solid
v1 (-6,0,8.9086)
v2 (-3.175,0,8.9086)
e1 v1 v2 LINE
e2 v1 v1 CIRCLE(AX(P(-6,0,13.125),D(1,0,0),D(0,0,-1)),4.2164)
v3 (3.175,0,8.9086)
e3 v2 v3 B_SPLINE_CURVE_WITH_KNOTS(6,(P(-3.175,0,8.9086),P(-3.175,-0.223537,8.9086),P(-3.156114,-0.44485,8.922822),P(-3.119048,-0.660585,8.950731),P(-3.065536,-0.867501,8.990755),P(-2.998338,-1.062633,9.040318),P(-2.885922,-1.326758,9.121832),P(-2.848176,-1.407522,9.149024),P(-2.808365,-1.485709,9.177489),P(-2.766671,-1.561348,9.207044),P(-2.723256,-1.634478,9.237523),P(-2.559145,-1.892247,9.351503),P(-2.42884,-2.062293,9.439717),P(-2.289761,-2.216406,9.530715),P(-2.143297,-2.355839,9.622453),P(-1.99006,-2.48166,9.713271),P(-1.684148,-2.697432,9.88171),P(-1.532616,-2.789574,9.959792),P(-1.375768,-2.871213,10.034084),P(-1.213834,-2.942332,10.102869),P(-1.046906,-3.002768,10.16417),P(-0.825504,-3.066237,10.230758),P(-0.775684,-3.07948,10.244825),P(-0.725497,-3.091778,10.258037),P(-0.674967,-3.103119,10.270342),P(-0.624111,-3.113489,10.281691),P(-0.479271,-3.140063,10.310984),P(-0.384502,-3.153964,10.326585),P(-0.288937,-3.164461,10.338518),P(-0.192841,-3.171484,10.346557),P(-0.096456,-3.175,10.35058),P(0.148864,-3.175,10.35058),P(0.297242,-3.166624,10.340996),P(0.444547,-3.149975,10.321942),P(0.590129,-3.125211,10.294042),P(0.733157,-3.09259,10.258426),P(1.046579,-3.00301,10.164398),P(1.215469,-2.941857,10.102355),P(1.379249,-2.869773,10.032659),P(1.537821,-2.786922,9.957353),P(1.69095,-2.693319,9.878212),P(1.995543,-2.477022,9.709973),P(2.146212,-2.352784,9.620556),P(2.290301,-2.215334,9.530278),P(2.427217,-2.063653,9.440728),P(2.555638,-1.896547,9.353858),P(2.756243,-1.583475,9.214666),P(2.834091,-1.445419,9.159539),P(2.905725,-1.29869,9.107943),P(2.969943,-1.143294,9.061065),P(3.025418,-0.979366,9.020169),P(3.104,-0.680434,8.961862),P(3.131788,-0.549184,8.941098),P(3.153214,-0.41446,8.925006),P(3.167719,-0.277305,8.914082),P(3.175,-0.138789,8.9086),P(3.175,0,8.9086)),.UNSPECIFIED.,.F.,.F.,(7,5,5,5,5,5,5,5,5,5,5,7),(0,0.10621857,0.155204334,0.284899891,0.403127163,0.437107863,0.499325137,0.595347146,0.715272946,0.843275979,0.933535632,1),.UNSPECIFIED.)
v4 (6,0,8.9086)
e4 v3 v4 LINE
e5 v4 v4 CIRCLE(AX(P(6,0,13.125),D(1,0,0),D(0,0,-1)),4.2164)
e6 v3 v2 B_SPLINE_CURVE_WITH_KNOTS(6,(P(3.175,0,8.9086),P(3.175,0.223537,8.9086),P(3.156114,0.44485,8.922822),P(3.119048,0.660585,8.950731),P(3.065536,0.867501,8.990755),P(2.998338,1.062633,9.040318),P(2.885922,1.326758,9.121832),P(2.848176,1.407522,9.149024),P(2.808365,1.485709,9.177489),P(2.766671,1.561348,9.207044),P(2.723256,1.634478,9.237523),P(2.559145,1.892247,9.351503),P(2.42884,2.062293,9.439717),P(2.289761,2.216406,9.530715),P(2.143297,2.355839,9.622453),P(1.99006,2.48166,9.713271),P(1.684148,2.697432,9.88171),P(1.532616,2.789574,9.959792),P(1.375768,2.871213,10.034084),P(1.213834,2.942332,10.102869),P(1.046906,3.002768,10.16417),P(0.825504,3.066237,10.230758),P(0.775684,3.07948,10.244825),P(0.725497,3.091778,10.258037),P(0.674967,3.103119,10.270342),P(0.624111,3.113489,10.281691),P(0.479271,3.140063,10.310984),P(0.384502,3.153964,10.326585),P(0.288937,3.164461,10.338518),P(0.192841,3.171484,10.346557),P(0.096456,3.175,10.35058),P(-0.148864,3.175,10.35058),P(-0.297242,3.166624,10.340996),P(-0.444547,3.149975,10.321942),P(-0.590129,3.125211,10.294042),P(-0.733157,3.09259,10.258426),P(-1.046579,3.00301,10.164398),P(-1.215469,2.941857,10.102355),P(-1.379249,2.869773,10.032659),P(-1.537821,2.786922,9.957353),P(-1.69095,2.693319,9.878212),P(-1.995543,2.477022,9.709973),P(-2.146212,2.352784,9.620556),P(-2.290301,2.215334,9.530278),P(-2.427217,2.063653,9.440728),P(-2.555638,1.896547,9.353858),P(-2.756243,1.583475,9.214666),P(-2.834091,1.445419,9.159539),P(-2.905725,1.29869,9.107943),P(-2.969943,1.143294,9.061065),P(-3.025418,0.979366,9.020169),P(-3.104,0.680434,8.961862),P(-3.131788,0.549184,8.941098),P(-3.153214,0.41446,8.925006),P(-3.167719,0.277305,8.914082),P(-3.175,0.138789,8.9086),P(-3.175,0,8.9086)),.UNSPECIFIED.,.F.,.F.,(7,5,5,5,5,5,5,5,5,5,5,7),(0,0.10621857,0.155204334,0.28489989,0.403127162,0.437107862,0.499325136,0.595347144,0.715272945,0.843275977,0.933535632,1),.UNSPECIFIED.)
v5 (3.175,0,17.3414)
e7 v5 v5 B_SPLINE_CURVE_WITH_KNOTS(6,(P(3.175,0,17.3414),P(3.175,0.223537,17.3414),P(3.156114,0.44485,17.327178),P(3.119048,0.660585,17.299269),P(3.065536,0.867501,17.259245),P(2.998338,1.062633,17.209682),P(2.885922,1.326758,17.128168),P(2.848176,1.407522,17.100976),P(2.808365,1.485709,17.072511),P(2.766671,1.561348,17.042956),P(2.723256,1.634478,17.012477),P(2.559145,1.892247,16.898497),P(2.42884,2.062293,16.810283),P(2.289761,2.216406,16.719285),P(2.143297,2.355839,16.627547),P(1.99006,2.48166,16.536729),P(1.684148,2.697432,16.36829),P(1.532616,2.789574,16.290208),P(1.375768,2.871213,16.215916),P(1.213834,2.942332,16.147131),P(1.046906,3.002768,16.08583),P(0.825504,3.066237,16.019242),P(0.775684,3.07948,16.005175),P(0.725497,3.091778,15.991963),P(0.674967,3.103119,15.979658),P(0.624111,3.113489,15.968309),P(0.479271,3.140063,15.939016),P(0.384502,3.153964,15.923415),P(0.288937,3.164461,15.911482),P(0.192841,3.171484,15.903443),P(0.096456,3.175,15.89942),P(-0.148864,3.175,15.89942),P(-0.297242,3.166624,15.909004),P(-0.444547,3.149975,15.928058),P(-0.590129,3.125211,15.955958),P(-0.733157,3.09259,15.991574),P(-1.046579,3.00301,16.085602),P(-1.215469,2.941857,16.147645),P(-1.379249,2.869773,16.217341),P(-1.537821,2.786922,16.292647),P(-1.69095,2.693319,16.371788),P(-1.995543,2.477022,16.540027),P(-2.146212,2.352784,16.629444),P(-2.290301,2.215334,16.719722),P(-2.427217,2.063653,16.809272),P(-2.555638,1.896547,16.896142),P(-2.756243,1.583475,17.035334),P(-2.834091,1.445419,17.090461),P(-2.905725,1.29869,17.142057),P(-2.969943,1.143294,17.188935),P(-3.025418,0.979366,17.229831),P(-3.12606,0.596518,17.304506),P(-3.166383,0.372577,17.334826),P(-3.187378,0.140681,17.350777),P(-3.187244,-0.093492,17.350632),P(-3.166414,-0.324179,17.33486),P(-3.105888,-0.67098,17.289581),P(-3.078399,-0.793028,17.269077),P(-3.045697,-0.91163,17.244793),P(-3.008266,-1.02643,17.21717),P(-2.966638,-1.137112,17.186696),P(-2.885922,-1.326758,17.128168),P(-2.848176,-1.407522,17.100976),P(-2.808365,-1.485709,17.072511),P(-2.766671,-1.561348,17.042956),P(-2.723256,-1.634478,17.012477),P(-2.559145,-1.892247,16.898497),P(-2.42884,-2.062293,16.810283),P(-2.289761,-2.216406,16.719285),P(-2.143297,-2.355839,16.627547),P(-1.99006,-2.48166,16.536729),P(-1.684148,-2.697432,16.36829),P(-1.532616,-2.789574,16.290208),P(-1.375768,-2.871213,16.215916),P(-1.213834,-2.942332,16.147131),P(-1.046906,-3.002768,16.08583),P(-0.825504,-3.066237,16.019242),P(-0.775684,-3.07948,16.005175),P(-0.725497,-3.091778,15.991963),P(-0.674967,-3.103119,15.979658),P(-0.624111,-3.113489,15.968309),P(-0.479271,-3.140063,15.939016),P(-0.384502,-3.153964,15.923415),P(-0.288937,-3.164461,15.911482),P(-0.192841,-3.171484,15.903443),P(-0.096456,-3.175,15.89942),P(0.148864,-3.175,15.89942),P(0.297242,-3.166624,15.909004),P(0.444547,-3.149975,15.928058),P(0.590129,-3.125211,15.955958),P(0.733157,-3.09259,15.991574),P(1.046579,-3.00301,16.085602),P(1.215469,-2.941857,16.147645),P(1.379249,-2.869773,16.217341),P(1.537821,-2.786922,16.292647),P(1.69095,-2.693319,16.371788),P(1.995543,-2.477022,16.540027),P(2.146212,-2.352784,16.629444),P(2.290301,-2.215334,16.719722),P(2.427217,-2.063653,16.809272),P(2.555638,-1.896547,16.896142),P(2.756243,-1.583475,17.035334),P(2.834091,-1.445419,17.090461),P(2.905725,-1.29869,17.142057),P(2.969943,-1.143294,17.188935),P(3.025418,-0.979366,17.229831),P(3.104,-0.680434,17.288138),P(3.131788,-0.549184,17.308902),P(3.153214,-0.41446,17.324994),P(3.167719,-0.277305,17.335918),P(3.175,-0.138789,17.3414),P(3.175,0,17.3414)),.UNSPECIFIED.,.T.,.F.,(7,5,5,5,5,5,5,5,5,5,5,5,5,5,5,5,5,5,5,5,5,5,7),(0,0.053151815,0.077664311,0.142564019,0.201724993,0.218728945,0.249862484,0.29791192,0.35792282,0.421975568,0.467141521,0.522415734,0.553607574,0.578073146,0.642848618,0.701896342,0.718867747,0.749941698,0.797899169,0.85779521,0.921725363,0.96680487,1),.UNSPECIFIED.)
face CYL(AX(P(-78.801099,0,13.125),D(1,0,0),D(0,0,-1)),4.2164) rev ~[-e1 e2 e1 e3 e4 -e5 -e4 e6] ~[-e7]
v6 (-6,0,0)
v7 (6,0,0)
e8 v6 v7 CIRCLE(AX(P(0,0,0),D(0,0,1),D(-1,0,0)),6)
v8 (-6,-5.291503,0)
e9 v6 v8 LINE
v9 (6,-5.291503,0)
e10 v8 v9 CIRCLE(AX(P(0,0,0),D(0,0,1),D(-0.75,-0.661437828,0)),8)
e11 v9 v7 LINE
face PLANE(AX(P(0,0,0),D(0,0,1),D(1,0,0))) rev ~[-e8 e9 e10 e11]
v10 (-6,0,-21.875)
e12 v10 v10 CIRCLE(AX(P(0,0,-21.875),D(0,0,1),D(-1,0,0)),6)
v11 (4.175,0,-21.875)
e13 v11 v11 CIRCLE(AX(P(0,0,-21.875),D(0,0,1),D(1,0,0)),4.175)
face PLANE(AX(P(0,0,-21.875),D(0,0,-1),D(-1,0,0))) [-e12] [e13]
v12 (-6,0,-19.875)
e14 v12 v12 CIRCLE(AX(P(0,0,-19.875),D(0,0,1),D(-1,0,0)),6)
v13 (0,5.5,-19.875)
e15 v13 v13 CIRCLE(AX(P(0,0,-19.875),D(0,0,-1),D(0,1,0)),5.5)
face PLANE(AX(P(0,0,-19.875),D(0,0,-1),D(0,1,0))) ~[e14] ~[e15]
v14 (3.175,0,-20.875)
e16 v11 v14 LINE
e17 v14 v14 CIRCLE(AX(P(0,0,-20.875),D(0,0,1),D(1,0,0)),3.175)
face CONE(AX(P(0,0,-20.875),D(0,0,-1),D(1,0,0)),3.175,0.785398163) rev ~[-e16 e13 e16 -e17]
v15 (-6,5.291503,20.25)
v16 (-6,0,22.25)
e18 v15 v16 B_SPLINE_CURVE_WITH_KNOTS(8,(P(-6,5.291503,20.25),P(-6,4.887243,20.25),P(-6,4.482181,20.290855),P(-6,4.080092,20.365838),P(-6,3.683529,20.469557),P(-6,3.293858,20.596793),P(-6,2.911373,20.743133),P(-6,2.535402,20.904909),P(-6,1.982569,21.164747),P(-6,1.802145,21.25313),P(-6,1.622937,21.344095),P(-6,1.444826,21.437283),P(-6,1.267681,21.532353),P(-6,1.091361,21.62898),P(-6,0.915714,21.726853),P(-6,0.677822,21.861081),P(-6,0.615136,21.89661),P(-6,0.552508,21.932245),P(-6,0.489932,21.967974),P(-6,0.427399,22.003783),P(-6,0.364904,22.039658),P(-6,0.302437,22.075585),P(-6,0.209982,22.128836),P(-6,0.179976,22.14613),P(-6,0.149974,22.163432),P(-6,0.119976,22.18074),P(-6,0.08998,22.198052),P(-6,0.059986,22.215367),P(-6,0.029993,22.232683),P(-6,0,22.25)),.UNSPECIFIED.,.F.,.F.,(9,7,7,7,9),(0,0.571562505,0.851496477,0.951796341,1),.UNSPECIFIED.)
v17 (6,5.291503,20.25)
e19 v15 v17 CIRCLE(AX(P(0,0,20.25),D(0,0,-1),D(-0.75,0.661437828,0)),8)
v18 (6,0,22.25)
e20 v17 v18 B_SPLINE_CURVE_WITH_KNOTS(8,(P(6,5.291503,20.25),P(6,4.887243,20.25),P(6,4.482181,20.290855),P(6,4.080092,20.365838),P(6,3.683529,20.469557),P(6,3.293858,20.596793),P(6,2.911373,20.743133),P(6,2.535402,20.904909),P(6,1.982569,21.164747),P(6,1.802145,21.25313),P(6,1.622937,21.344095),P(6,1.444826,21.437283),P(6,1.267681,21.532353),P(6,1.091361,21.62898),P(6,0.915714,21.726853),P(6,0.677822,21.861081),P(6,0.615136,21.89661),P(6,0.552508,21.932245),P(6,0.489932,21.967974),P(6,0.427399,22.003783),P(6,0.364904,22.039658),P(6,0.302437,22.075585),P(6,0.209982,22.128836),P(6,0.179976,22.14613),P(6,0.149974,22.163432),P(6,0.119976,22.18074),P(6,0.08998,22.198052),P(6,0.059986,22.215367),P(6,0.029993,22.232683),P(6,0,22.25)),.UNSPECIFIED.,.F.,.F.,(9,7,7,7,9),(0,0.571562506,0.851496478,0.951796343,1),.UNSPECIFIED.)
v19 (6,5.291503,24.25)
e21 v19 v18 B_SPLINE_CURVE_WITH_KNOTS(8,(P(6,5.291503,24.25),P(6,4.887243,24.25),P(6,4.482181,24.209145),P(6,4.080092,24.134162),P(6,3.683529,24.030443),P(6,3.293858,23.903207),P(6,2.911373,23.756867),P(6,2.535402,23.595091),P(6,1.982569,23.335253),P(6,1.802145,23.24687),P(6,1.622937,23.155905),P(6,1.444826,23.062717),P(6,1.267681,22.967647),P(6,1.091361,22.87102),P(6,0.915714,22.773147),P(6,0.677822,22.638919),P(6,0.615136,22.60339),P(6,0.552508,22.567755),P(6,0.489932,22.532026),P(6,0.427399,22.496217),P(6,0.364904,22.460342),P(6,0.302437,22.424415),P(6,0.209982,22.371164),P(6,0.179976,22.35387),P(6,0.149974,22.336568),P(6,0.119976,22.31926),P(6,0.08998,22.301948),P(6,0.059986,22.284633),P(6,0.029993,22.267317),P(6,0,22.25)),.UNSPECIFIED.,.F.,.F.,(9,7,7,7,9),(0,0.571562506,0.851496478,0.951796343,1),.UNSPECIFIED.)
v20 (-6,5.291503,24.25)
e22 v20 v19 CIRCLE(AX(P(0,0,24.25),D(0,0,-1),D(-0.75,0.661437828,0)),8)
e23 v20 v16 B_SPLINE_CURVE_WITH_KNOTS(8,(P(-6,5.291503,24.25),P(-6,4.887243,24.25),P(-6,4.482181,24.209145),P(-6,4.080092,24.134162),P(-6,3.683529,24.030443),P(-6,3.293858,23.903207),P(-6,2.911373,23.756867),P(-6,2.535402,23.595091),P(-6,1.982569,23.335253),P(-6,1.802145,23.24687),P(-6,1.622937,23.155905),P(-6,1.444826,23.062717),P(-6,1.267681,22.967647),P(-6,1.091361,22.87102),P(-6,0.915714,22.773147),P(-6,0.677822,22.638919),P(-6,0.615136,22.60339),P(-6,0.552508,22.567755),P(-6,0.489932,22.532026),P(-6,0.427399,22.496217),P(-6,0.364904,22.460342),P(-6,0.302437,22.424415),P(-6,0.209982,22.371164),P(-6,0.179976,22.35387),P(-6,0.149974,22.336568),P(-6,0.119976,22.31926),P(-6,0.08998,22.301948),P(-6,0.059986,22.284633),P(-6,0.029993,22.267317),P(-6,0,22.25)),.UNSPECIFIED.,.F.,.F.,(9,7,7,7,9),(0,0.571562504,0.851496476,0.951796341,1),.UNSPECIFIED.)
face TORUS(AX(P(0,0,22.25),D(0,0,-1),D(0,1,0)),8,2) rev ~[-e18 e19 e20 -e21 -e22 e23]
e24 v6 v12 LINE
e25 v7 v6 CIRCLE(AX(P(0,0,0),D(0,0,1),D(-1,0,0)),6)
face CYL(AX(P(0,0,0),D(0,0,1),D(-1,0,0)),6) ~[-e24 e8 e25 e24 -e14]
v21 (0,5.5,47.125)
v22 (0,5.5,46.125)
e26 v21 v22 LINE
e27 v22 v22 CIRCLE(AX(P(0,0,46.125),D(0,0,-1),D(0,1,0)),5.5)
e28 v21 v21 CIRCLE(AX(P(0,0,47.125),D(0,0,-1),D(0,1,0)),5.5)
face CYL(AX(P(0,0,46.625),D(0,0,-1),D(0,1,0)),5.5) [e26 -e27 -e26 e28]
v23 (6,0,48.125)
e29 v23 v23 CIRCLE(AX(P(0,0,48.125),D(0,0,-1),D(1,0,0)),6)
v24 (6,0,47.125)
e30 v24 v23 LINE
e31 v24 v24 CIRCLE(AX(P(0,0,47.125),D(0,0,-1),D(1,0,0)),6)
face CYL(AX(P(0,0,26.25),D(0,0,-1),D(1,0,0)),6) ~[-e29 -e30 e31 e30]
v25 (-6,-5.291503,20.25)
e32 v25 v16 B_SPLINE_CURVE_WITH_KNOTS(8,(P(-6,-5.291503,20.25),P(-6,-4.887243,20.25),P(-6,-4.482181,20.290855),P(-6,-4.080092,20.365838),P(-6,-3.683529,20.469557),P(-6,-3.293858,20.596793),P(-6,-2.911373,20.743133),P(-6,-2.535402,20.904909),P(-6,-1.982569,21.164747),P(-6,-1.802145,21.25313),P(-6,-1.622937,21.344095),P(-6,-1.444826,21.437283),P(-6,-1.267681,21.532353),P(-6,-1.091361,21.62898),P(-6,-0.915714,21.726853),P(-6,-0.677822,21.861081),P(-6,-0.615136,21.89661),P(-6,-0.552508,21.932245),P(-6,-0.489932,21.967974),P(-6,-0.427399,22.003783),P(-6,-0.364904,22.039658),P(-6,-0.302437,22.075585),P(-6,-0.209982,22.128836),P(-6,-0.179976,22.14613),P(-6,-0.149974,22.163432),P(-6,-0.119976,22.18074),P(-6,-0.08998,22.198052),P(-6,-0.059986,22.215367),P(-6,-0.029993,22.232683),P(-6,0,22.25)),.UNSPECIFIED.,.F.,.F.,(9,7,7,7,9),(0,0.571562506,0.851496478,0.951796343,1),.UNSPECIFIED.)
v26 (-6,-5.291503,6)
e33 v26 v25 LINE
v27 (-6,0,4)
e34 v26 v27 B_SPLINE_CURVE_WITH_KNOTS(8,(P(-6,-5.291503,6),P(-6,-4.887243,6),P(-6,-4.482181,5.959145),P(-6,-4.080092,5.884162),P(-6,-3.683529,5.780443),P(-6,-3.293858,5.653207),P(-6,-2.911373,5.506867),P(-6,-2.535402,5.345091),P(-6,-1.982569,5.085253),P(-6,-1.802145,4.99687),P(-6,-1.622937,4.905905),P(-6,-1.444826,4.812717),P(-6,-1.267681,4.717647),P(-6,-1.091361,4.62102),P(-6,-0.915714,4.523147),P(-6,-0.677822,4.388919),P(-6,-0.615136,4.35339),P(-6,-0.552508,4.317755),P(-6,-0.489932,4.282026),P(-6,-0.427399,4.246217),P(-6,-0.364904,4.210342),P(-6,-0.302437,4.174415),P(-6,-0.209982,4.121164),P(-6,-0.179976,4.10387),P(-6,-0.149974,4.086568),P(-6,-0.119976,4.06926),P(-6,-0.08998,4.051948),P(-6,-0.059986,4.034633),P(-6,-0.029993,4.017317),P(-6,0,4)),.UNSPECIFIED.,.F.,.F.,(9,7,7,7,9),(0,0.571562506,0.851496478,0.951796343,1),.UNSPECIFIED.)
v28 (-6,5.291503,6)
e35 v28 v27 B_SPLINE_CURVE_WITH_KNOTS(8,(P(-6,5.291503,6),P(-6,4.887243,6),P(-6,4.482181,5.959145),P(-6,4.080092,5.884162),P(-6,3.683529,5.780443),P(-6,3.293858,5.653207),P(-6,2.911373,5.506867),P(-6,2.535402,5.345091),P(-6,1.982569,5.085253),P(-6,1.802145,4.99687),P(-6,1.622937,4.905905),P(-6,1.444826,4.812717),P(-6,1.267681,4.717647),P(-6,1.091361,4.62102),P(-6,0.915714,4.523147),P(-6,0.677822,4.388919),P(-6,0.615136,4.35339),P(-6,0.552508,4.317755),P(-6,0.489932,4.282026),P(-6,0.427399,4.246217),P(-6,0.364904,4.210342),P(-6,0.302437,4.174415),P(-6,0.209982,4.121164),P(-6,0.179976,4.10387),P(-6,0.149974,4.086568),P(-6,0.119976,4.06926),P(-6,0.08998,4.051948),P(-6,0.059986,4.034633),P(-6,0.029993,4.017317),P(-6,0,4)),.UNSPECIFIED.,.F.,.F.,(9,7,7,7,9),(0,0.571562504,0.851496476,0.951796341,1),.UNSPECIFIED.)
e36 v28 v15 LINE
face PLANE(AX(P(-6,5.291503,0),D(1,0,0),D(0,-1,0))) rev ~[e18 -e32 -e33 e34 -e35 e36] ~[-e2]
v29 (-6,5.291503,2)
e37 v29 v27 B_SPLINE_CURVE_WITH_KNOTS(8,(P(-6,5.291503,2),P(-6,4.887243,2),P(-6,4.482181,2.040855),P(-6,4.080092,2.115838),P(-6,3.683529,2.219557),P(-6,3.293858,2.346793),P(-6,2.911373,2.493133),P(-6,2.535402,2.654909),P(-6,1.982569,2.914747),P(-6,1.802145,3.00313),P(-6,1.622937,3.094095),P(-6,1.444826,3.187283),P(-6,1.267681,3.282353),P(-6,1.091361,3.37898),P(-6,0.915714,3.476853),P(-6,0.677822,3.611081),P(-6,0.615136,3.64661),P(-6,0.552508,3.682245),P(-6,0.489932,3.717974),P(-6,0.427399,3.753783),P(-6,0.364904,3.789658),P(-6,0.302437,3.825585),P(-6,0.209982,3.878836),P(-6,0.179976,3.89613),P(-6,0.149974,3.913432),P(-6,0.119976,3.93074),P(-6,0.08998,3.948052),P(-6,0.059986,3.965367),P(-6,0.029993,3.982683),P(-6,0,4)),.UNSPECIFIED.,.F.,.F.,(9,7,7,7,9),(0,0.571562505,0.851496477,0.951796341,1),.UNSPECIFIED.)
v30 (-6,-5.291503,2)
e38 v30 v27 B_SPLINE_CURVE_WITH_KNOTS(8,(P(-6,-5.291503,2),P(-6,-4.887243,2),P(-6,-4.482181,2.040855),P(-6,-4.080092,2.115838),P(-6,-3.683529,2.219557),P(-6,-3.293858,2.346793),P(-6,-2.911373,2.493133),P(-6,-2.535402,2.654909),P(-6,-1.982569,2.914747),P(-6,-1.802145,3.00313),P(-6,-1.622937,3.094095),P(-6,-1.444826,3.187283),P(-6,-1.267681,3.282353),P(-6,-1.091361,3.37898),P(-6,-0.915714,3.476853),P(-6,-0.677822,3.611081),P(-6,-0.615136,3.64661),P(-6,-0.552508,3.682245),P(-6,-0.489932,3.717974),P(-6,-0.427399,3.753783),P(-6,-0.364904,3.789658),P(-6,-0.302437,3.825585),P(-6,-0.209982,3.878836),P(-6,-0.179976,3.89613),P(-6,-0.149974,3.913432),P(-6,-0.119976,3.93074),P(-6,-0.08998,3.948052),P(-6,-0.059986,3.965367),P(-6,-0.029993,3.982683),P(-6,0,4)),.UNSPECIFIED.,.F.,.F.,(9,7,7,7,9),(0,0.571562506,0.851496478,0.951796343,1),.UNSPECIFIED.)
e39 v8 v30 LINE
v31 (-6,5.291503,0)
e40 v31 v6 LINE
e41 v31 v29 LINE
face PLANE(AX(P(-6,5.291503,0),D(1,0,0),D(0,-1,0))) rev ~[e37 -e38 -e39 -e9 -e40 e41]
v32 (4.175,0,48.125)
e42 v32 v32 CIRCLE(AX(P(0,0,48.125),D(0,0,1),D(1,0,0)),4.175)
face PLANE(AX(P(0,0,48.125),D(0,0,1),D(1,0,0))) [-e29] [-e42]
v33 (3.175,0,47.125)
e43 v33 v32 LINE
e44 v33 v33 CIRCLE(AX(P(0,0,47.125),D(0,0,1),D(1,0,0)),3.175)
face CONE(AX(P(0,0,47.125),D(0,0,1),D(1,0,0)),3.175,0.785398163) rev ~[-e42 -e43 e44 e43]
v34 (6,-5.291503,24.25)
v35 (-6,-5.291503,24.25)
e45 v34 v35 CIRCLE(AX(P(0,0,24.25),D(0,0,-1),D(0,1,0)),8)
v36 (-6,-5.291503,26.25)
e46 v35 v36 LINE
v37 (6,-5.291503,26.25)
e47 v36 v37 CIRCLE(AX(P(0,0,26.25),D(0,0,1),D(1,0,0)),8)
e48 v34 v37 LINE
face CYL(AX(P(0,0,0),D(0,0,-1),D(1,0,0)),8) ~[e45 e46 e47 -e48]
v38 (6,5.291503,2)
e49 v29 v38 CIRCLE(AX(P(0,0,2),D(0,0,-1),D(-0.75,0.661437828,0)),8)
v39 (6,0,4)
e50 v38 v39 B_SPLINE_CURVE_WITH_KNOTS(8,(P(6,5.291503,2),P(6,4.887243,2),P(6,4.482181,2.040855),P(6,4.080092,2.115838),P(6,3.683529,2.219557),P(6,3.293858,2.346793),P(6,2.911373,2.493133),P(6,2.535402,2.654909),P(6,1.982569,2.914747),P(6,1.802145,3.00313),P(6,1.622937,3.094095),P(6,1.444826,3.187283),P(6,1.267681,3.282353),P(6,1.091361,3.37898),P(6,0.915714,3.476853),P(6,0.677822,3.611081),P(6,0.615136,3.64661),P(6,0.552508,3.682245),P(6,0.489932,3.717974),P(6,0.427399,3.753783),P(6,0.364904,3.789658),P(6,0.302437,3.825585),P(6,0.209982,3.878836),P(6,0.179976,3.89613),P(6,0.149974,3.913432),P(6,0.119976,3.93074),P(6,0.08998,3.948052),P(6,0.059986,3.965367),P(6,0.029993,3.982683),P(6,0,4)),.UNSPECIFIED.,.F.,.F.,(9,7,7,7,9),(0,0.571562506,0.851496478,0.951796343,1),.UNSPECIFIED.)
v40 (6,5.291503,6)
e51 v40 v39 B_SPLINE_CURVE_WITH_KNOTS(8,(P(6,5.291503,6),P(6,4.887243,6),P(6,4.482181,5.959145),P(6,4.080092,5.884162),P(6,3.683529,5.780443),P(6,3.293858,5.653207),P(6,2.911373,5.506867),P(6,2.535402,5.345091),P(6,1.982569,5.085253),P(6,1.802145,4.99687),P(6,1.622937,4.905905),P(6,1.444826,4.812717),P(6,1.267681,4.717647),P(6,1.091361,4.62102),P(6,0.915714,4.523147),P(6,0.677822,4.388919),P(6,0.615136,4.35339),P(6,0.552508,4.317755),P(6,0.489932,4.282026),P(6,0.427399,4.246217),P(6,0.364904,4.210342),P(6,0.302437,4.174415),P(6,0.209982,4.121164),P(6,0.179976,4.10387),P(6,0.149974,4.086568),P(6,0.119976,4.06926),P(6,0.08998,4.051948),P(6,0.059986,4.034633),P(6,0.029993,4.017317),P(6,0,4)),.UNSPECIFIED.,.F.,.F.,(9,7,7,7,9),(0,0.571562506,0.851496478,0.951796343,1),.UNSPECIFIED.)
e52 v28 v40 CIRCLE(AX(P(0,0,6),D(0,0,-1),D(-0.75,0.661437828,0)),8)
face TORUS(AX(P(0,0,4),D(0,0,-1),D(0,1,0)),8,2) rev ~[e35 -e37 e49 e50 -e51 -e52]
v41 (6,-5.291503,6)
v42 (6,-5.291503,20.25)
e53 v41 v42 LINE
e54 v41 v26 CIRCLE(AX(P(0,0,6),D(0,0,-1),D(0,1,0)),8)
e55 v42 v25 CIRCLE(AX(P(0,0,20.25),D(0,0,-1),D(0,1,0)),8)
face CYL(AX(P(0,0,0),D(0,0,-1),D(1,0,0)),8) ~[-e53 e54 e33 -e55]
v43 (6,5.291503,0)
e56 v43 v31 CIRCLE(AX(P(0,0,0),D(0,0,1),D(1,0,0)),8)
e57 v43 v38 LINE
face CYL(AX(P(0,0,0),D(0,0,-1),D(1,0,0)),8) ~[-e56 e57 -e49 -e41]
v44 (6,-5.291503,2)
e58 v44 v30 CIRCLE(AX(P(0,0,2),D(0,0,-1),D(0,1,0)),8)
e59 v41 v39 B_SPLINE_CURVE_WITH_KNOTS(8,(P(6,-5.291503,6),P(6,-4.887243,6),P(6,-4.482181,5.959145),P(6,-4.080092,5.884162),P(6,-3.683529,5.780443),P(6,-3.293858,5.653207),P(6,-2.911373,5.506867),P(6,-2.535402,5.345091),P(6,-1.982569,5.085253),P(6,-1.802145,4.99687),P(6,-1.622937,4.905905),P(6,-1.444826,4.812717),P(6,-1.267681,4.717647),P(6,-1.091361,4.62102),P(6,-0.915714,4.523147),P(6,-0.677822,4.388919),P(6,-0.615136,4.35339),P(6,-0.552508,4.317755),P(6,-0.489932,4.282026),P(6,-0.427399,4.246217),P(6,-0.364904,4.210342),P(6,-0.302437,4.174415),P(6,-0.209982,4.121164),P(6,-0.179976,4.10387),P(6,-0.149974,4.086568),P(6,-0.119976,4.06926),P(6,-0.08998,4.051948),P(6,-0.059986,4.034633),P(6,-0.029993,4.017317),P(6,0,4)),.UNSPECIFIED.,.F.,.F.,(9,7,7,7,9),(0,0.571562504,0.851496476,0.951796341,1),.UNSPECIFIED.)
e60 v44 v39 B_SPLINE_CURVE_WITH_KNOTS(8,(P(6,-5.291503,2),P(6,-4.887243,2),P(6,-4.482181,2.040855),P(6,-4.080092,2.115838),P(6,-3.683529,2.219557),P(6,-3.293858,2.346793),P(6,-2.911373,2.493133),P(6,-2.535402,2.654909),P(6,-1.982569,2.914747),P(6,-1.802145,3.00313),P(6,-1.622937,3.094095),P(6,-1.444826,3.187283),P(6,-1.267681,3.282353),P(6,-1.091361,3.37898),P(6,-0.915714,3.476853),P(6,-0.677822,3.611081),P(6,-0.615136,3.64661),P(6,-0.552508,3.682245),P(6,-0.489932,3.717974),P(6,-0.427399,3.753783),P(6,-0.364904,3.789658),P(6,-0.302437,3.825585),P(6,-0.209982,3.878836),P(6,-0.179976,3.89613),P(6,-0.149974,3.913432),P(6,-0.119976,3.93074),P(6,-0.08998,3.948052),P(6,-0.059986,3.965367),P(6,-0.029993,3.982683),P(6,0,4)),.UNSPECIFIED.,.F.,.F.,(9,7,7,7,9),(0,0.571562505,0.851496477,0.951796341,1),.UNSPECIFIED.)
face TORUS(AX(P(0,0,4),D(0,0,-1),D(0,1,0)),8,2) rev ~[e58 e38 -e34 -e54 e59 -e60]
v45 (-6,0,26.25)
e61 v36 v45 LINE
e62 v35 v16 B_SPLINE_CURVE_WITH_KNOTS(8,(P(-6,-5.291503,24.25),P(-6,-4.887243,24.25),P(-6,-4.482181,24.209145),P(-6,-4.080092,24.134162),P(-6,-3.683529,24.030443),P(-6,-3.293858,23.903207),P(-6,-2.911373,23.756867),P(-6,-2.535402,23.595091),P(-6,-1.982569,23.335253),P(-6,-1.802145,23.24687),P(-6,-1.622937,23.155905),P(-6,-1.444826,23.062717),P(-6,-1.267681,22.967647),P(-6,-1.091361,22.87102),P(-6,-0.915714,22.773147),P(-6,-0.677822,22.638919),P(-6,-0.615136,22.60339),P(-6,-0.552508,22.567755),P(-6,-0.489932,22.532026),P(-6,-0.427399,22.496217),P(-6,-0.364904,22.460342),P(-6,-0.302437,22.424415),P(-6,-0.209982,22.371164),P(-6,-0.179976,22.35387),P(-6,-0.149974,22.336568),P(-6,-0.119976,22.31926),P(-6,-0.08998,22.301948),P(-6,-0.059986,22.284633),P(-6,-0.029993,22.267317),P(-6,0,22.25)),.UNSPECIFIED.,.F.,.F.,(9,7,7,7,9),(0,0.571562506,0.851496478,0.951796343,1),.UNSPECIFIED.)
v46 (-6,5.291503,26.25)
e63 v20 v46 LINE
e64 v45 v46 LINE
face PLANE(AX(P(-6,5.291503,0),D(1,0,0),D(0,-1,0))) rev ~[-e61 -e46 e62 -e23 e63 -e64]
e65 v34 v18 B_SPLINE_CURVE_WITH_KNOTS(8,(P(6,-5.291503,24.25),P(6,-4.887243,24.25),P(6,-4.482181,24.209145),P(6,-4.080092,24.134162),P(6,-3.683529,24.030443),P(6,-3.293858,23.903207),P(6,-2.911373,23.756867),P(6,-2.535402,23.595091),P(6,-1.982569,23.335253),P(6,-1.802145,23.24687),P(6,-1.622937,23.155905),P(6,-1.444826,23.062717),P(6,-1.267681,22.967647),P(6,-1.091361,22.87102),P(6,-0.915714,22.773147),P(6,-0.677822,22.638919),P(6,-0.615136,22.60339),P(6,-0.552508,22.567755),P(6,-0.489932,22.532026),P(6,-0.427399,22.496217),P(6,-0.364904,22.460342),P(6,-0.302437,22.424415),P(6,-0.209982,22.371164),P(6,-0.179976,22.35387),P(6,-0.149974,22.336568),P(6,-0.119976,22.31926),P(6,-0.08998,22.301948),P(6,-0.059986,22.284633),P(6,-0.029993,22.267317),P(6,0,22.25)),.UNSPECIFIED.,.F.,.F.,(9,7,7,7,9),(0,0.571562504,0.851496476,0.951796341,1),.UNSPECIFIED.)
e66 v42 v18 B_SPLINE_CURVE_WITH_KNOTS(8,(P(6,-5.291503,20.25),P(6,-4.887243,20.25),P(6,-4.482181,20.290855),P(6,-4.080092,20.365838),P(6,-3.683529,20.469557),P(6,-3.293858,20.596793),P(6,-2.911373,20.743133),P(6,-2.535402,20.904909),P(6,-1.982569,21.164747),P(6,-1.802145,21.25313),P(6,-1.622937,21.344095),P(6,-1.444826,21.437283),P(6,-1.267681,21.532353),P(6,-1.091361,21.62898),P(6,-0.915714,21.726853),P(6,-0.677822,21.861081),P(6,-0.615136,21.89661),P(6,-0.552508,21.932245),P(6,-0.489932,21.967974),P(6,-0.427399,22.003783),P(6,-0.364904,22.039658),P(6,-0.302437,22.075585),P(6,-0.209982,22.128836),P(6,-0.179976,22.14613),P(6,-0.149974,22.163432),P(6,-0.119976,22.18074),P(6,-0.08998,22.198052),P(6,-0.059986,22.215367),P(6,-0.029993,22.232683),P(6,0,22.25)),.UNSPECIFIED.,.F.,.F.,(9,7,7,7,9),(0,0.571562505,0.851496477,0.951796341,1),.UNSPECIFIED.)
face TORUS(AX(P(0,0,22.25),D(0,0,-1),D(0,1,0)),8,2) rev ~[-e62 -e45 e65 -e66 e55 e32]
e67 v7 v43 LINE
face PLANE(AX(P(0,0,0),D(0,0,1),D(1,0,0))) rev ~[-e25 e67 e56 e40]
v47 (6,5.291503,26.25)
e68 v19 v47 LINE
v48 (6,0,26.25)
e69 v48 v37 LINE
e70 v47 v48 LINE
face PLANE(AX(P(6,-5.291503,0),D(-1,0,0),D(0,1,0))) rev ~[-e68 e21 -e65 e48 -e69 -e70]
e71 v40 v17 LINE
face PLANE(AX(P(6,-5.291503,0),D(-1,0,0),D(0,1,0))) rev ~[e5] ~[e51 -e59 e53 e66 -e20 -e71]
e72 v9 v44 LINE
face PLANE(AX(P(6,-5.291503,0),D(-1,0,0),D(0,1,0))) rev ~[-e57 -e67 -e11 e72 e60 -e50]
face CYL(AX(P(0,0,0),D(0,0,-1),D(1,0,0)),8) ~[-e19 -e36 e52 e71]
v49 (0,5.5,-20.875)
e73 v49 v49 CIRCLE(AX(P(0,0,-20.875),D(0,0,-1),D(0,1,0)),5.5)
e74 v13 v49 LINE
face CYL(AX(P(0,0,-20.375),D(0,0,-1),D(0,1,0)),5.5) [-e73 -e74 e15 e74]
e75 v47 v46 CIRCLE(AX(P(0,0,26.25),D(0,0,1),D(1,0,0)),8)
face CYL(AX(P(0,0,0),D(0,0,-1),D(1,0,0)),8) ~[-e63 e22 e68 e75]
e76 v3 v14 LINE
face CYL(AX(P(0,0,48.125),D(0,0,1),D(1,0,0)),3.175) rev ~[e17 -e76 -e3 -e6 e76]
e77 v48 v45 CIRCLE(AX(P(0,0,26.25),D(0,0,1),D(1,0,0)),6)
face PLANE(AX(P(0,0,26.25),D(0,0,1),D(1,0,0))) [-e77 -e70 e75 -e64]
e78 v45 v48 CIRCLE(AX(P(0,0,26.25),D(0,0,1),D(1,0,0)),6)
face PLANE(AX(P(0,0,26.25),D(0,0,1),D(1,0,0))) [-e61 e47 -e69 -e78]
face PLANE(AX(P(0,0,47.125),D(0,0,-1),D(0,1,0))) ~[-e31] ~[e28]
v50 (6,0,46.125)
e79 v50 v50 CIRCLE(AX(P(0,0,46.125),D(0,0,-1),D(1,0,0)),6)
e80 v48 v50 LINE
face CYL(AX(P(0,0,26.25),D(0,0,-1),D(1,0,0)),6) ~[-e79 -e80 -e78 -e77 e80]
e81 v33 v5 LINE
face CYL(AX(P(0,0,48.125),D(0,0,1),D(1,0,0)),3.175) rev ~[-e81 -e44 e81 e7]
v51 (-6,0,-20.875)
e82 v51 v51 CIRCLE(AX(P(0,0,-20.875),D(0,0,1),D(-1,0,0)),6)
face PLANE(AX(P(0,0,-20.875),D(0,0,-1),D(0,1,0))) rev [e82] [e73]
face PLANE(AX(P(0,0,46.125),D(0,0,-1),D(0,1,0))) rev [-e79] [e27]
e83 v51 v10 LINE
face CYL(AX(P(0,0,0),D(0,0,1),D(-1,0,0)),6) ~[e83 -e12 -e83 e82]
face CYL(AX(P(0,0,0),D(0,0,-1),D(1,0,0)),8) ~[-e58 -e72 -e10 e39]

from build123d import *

# Parameters (mm, degrees)
SKETCH1_R               = 8
BOSS_EXTRUDE1_DEPTH     = 26.25
SKETCH2_R               = 6
BOSS_EXTRUDE2_DEPTH     = 21.875
SKETCH3_R               = 6
BOSS_EXTRUDE3_DEPTH     = 21.875
CUT_EXTRUDE4_DEPTH      = 22.875
CUT_EXTRUDE4_DEPTH_BACK = 49.125
SKETCH7_W               = 1
SKETCH7_H               = 0.5
SKETCH9_R               = 3.175
CUT_EXTRUDE5_DEPTH      = 71
CHAMFER1_SIZE           = 1
F_3_8_24_TAPPED_HOLE1_D = 8.4328


with BuildPart() as part:
    # Sketch1 → Boss-Extrude1 (new body)
    with BuildSketch(Plane.XY):
        Circle(SKETCH1_R)
    extrude(amount=BOSS_EXTRUDE1_DEPTH)

    # Sketch2 → Boss-Extrude2 (add)
    with BuildSketch(Plane(origin=(0, 0, 0), x_dir=(-1, 0, 0), z_dir=(0, 0, -1))):
        Circle(SKETCH2_R)
    extrude(amount=BOSS_EXTRUDE2_DEPTH)

    # Sketch3 → Boss-Extrude3 (add)
    with BuildSketch(Plane.XY.offset(26.25)):
        Circle(SKETCH3_R)
    extrude(amount=BOSS_EXTRUDE3_DEPTH)

    # Sketch5 → Cut-Extrude4 (cut, two sides)
    with BuildSketch(Plane(origin=(0, 0, 0), x_dir=(-1, 0, 0), z_dir=(0, 0, -1))) as cut_extrude4_sk:
        with BuildLine():
            Line((-6, -5.291502622), (-6, 5.291502622))
            ThreePointArc((-6, 5.291502622), (-8, 0), (-6, -5.291502622))
        make_face()
        with BuildLine():
            ThreePointArc((8, 0), (7.483314774, 2.828427125), (6, 5.291502622))
            Line((6, 5.291502622), (6, -5.291502622))
            ThreePointArc((6, -5.291502622), (7.483314774, -2.828427125), (8, 0))
        make_face()
    extrude(amount=CUT_EXTRUDE4_DEPTH, mode=Mode.SUBTRACT)
    extrude(cut_extrude4_sk.sketch, amount=-CUT_EXTRUDE4_DEPTH_BACK, mode=Mode.SUBTRACT)

    # Sketch7 → Cut-Revolve1 (revolve, cut)
    with BuildSketch(Plane(origin=(0, 0, 0), x_dir=(0, 0, -1), z_dir=(1, 0, 0))):
        with Locations((20.375, 5.75)):
            Rectangle(SKETCH7_W, SKETCH7_H)
        with Locations((-46.625, 5.75)):
            Rectangle(SKETCH7_W, SKETCH7_H)
    revolve(axis=Axis((0, 0, 48.125), (0, 0, -1)), mode=Mode.SUBTRACT)

    # Sketch8 → Cut-Revolve2 (revolve, cut)
    with BuildSketch(Plane(origin=(0, 0, 0), x_dir=(0, 0, -1), z_dir=(1, 0, 0))):
        with BuildLine():
            Line((-24.25, 8), (-20.25, 8))
            ThreePointArc((-20.25, 8), (-22.25, 6), (-24.25, 8))
        make_face()
        with BuildLine():
            Line((-6, 8), (-2, 8))
            ThreePointArc((-2, 8), (-4, 6), (-6, 8))
        make_face()
    revolve(axis=Axis((0, 0, 48.125), (0, 0, -1)), mode=Mode.SUBTRACT)

    # Sketch9 → Cut-Extrude5 (cut, through all)
    with BuildSketch(Plane.XY.offset(48.125)):
        Circle(SKETCH9_R)
    extrude(amount=-CUT_EXTRUDE5_DEPTH, mode=Mode.SUBTRACT)

    # Chamfer1
    chamfer1_edges = [part.edges().sort_by_distance(p)[0] for p in [
        (-3.175, 0, -21.875),
        (-3.175, 0, 48.125),
    ]]
    chamfer(chamfer1_edges, length=CHAMFER1_SIZE)

    # 3/8-24 Tapped Hole1 (through all)
    with Locations(Plane.ZY.offset(6)):
        with Locations((13.125, 0)):
            Hole(F_3_8_24_TAPPED_HOLE1_D / 2)


solid = part.part
